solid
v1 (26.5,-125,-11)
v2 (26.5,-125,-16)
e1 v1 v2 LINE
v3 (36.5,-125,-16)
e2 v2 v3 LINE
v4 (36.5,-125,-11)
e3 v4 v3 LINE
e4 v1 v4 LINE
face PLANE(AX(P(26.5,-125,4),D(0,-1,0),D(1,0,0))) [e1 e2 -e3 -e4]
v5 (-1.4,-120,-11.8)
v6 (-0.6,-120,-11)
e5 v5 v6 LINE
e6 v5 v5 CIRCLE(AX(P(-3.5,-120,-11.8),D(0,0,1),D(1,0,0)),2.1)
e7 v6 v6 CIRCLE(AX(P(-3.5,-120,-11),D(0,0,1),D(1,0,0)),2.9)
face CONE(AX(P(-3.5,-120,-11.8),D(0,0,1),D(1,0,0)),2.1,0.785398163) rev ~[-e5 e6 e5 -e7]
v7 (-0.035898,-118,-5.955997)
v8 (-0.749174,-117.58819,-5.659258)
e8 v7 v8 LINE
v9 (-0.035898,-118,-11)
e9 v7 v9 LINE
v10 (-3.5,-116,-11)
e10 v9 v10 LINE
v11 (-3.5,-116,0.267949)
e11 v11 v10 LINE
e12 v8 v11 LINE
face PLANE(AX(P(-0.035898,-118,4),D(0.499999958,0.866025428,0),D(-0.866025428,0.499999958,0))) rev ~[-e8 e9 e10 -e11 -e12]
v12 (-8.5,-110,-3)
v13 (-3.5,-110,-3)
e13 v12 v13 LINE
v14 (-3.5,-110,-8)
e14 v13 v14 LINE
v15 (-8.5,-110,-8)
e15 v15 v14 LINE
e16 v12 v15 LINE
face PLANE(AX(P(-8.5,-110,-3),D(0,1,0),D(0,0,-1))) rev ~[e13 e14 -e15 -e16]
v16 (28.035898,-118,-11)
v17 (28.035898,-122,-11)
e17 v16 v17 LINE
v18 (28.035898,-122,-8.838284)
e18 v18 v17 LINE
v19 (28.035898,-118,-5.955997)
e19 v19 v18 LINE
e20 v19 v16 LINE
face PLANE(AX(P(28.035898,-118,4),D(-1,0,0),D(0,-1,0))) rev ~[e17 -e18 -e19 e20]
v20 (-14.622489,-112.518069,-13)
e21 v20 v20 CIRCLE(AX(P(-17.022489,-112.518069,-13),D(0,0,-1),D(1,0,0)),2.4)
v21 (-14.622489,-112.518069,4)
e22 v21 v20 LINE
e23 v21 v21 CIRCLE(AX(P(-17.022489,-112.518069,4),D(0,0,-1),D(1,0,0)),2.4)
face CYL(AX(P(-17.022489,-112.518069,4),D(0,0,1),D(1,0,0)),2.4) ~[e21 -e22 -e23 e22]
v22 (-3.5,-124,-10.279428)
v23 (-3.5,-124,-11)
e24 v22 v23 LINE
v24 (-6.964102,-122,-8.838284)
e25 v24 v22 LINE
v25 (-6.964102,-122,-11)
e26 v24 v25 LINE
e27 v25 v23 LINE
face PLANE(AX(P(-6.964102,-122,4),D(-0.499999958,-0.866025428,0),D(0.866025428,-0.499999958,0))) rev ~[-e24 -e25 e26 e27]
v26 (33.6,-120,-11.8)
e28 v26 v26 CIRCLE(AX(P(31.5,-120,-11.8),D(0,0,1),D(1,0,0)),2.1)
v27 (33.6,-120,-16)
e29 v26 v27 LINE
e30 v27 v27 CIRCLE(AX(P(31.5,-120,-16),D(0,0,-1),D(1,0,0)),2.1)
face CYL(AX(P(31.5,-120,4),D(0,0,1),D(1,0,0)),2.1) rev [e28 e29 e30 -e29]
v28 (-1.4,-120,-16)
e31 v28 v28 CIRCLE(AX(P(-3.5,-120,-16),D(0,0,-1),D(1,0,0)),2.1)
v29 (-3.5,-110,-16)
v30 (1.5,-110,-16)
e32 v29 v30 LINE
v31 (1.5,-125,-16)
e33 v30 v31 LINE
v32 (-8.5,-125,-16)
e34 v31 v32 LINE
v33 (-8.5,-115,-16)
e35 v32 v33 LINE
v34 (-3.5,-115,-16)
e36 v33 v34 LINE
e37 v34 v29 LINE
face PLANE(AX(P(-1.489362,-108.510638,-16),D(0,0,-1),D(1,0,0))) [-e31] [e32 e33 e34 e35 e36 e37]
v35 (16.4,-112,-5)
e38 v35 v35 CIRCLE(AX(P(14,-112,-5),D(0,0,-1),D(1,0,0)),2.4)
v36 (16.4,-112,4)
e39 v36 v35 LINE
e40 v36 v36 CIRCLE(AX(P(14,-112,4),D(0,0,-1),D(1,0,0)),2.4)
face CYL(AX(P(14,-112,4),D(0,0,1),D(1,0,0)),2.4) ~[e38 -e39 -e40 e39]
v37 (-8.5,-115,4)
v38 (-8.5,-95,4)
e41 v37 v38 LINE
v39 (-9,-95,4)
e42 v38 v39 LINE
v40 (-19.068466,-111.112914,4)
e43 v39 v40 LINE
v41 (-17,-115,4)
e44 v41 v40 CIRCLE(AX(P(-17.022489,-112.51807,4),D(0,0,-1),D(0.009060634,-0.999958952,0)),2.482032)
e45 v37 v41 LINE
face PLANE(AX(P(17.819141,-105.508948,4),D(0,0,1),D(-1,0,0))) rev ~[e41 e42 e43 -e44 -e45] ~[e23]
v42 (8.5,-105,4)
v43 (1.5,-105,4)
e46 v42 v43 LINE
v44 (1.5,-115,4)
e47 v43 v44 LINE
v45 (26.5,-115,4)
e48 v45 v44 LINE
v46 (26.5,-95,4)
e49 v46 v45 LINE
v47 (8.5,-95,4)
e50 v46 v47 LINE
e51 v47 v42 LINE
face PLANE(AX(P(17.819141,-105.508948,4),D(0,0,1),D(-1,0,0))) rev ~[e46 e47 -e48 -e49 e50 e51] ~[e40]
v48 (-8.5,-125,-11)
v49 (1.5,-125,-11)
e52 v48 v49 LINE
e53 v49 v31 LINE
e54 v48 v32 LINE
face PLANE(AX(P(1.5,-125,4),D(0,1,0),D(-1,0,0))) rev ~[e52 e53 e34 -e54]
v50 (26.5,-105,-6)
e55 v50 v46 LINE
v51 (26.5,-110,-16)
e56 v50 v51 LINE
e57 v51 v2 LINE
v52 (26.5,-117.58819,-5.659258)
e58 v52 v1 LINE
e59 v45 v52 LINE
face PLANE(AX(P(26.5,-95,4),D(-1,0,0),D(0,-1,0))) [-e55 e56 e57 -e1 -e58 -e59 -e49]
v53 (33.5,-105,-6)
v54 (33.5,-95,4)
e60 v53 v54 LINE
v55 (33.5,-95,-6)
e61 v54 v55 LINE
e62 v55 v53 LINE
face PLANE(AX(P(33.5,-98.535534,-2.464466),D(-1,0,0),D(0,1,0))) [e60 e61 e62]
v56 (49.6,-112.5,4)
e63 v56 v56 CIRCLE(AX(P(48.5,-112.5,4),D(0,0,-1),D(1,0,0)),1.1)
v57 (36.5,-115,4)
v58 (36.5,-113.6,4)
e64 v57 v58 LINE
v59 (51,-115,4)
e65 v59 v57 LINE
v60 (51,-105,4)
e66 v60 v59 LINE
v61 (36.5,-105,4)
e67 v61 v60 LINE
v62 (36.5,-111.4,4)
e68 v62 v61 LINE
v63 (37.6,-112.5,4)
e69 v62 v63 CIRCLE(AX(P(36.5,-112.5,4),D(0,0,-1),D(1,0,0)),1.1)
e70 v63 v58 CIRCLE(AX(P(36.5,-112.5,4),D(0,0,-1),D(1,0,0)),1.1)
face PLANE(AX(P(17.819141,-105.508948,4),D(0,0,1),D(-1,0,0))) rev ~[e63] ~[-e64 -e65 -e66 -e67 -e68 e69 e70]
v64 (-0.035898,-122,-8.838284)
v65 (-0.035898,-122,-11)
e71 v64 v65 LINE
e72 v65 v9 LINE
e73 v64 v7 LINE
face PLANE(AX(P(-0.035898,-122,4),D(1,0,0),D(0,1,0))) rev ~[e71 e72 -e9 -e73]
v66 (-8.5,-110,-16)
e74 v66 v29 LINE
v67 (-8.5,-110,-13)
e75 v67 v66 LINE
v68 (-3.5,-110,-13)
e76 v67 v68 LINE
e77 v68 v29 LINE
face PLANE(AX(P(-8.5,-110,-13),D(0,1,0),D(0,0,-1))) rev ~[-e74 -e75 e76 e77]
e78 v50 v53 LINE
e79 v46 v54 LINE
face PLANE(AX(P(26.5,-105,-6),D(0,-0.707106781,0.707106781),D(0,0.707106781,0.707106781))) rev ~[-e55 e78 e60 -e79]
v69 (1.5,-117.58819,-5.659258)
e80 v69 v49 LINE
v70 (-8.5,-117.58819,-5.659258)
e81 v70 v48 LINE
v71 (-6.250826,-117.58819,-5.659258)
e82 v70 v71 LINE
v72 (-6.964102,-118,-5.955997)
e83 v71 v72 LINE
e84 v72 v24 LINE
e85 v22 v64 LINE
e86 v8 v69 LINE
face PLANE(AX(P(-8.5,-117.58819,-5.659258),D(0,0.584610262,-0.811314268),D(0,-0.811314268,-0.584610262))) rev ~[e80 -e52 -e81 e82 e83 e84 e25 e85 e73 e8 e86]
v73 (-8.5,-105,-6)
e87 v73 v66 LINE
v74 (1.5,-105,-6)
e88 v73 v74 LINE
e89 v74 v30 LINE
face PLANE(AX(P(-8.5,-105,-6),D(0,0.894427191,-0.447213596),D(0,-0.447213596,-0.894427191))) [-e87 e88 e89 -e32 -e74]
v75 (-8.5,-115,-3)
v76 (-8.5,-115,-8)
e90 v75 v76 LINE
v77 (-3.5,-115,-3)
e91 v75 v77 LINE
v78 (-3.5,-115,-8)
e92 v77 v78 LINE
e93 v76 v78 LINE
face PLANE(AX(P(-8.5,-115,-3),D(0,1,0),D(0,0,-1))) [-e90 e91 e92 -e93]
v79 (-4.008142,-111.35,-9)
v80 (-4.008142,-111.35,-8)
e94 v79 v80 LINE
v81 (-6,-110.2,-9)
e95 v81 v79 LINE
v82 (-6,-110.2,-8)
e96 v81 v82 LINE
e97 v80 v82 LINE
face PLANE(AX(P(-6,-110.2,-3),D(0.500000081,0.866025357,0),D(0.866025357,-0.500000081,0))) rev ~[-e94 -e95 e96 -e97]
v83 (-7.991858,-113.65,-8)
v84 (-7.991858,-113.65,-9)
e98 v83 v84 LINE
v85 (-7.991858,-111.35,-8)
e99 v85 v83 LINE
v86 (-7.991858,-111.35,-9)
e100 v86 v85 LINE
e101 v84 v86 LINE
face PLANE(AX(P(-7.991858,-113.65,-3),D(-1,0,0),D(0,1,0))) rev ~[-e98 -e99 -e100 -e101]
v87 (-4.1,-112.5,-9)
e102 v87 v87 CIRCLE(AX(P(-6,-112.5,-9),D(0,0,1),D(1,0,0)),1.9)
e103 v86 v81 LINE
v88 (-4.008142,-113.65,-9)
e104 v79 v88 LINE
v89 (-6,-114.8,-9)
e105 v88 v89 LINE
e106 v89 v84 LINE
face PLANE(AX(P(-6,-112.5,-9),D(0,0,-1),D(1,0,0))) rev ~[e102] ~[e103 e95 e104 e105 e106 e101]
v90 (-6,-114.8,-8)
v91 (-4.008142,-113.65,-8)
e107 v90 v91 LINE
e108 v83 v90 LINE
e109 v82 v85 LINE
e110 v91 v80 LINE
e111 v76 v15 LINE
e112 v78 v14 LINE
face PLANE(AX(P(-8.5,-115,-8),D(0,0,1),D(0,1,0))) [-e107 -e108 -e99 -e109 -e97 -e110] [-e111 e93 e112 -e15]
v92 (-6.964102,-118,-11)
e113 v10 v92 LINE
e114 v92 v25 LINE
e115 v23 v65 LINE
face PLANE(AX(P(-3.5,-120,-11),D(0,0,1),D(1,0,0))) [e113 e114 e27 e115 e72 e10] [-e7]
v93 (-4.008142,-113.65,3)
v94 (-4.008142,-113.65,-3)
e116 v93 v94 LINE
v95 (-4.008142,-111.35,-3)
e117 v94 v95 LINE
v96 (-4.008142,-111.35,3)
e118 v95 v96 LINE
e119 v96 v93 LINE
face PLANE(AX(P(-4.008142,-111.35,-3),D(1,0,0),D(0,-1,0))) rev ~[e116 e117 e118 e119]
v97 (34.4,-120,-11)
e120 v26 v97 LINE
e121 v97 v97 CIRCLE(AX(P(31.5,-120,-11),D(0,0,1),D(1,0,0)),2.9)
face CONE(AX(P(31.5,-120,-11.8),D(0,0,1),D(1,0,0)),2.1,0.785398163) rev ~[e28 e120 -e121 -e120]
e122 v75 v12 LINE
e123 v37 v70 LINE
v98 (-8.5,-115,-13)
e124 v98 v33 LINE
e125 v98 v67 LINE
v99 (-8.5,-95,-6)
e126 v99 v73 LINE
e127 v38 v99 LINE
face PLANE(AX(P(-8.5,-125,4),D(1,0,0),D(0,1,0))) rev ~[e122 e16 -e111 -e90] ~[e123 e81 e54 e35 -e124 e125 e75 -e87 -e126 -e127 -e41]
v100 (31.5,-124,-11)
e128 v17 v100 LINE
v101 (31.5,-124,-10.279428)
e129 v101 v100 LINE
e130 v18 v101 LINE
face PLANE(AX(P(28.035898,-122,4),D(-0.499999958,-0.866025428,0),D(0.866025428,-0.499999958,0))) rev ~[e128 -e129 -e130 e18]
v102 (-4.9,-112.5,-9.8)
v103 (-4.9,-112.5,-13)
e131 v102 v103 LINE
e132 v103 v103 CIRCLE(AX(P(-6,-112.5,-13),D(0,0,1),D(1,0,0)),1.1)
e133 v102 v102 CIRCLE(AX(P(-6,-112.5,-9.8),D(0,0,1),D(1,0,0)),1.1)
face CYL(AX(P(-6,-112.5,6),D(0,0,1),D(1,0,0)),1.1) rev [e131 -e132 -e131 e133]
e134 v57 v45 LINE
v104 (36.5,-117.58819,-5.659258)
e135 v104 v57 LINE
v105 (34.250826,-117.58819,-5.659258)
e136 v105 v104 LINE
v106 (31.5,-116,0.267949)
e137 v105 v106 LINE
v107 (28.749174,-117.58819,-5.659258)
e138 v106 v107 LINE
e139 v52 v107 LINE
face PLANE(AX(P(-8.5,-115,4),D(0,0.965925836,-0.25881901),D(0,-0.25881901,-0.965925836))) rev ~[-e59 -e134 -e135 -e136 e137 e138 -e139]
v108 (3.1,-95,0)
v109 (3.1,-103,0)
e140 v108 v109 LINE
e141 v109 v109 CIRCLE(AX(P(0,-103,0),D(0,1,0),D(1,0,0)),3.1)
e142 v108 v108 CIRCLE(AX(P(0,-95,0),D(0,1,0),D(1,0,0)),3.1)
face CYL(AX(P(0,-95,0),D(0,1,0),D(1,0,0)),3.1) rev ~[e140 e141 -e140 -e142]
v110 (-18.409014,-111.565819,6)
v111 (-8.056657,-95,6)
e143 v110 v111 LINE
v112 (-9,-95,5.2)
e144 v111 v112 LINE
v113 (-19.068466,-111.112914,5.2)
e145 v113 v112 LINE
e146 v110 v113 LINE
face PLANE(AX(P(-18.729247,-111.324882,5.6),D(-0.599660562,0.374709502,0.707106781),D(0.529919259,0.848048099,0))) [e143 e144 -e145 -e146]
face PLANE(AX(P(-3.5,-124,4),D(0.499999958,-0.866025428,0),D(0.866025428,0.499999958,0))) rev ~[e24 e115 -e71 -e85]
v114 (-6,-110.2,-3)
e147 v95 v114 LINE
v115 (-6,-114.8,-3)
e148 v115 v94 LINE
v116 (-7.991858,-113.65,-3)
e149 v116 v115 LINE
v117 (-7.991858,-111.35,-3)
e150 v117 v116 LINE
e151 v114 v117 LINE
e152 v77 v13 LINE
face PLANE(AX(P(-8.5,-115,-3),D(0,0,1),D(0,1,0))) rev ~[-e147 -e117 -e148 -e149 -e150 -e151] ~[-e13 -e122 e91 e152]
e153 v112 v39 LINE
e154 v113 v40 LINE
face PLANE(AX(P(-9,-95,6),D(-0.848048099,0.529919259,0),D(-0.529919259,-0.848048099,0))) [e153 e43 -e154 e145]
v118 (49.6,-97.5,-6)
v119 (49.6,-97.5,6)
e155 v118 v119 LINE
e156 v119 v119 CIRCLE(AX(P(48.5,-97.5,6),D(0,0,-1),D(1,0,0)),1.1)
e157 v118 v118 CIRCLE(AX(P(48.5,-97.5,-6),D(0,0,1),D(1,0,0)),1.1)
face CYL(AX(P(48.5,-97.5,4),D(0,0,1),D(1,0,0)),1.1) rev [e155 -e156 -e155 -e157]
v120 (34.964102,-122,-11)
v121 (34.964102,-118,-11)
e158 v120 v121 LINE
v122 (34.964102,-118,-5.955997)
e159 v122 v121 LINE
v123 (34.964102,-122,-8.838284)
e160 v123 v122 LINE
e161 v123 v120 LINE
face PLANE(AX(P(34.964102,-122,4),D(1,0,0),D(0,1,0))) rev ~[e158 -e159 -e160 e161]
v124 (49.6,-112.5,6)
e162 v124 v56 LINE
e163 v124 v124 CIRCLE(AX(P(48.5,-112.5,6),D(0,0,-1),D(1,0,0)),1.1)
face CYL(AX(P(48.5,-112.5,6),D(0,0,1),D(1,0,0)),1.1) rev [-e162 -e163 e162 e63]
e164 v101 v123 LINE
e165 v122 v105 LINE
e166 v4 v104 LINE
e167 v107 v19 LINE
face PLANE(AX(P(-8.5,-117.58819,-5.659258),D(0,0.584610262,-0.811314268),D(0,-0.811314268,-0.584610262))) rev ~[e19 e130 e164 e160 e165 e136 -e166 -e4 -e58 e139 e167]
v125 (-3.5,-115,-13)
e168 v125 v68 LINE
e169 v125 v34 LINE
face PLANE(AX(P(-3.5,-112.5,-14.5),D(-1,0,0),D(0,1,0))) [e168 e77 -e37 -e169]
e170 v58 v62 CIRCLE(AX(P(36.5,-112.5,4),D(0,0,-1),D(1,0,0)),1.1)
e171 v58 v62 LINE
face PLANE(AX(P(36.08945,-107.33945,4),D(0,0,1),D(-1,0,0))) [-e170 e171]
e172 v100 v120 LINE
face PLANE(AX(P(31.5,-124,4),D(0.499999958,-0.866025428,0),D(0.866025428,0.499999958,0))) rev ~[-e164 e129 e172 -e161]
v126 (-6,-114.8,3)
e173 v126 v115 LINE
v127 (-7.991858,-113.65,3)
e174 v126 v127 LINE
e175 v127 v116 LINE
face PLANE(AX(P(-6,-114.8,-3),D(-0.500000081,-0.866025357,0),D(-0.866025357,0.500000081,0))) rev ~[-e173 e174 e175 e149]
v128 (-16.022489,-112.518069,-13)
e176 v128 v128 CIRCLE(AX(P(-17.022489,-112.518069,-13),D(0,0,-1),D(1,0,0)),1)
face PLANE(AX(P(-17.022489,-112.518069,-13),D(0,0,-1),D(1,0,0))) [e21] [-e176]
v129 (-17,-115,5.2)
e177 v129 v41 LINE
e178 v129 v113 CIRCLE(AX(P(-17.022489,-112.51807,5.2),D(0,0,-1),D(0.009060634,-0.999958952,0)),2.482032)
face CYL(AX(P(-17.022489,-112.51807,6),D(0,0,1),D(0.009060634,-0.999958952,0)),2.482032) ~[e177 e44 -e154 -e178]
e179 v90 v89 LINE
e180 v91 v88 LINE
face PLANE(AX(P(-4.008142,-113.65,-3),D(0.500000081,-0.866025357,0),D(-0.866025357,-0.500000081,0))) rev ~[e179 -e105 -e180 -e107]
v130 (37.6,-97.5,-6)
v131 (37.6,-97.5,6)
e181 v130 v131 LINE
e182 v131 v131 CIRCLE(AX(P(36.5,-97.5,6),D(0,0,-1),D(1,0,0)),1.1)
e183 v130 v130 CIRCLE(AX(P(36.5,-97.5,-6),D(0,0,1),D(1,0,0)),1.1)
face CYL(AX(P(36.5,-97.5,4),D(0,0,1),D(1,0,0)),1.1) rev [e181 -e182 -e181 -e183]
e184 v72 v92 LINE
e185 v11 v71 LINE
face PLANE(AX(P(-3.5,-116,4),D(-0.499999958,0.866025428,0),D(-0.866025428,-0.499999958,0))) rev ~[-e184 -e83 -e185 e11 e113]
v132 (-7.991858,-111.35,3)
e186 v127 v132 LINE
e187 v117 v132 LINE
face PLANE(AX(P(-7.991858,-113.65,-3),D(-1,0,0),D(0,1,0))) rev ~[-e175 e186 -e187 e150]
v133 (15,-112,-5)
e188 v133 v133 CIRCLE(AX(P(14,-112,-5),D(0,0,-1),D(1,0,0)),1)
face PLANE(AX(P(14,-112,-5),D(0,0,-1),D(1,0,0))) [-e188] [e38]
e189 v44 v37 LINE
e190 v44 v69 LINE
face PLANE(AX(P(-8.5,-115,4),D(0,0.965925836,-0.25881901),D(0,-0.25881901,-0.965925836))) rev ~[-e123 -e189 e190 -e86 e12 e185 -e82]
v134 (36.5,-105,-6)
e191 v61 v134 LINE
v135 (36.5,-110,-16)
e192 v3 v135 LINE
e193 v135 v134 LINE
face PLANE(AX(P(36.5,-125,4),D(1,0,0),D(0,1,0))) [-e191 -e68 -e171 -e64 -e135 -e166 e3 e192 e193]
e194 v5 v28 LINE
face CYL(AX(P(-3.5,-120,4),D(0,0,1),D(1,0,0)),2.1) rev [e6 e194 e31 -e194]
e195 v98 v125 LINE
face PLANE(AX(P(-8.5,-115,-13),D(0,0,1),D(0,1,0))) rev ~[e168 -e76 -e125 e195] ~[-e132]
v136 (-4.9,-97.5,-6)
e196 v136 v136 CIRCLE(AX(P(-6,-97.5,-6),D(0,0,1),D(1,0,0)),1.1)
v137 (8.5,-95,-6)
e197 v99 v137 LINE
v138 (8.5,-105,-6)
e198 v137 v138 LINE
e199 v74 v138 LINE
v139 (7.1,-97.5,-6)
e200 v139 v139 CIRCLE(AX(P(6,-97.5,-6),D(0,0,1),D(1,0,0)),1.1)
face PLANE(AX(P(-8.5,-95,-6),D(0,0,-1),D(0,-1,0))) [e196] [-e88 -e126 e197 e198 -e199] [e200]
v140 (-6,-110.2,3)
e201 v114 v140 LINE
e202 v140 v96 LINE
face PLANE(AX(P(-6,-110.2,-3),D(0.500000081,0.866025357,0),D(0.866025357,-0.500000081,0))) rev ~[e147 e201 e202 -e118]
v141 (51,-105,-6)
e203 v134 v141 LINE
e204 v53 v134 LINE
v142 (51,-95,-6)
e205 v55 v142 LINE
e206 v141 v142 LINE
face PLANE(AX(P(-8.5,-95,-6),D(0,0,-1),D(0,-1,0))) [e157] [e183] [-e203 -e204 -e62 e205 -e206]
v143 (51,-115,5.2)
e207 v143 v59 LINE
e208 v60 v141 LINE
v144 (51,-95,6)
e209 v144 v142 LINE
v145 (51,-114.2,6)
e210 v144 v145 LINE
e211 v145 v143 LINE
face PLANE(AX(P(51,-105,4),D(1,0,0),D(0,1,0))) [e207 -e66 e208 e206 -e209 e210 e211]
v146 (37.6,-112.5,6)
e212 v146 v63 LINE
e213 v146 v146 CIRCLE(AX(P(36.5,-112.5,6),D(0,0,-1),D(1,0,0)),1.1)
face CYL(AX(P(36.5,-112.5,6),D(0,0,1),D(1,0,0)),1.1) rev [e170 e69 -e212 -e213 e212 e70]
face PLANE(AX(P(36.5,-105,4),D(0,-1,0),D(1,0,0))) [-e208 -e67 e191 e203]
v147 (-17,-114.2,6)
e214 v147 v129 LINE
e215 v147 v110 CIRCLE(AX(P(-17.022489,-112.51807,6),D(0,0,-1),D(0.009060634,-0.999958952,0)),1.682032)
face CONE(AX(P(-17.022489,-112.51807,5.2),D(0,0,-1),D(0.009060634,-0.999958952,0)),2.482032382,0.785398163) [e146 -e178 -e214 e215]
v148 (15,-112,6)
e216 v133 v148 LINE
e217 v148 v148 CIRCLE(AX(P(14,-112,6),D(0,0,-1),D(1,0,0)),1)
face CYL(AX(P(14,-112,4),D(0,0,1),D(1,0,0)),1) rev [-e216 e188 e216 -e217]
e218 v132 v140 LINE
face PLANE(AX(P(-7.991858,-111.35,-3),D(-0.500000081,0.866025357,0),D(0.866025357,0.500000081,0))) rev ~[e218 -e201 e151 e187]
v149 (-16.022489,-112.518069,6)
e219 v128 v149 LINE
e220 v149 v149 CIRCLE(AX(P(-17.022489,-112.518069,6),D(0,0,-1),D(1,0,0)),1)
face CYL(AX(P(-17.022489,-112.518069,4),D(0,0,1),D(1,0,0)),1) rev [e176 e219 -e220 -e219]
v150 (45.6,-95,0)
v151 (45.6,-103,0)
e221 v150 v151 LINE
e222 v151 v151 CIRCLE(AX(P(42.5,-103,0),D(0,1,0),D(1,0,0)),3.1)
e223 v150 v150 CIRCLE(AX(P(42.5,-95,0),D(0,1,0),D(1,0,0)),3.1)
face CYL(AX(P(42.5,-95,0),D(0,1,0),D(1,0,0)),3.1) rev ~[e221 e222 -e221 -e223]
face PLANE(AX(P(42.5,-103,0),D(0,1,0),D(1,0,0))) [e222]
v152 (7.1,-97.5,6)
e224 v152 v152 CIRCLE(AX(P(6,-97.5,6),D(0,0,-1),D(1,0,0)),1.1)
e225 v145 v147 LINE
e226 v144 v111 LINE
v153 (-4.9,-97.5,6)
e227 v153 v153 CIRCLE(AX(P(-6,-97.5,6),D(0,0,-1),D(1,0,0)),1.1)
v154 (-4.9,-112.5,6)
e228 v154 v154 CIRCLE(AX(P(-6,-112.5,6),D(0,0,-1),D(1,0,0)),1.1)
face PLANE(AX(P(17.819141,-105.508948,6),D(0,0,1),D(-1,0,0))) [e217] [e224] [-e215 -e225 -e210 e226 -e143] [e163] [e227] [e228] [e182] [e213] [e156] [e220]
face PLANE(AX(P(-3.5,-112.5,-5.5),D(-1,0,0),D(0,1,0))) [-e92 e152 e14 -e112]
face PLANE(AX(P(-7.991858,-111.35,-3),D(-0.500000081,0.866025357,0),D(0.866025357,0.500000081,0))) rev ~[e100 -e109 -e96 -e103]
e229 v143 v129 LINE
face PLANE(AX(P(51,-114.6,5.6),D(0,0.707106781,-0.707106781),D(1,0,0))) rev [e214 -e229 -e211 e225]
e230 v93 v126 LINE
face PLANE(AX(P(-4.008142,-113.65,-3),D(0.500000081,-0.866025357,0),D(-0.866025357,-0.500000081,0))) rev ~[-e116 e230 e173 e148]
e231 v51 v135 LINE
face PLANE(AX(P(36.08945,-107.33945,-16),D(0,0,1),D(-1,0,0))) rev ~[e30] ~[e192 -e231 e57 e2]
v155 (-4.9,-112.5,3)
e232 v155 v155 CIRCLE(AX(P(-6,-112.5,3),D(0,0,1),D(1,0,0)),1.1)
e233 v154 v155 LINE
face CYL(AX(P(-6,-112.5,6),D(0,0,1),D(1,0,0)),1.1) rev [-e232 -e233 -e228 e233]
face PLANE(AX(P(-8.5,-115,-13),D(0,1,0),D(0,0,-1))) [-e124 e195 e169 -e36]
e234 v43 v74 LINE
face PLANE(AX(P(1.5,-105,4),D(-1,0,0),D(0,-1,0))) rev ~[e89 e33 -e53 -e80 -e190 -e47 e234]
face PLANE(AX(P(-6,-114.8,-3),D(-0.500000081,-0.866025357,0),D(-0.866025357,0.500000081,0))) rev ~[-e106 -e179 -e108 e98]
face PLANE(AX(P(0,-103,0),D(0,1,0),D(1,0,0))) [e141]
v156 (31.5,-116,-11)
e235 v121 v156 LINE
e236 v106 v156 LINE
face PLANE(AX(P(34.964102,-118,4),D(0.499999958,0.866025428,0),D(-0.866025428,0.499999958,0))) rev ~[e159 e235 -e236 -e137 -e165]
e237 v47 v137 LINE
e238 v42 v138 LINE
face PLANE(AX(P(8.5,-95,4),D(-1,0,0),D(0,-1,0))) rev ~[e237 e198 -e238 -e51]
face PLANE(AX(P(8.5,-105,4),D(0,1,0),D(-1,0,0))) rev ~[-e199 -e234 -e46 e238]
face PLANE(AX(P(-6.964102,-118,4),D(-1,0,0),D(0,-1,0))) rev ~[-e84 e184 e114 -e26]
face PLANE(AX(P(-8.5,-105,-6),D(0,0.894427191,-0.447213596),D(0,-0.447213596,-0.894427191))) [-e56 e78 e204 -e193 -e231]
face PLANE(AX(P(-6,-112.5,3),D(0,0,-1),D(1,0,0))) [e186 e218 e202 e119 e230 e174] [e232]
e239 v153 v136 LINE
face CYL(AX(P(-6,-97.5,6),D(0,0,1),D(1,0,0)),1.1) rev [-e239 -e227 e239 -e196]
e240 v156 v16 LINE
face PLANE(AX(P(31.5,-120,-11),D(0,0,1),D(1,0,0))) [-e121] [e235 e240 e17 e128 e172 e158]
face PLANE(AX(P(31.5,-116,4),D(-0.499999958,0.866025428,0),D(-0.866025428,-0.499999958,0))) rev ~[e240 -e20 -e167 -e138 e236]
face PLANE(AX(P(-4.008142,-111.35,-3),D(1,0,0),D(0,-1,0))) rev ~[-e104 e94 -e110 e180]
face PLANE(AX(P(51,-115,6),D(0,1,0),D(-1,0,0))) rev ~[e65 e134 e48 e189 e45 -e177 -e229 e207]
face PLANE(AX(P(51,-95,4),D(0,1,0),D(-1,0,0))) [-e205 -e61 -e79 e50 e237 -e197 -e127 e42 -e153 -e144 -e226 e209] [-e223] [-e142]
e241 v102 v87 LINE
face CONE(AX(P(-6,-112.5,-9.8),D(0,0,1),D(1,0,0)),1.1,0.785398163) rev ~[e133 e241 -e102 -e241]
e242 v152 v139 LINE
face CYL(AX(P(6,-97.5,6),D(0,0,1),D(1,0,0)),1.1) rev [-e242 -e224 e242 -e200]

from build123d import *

# Parameters (mm, degrees)
SKETCH062_R     = 1.1
SKETCH062_R_2   = 1
PAD027_DEPTH    = 2
SKETCH063_R     = 2.4
SKETCH063_R_2   = 1
PAD028_DEPTH    = 17
SKETCH064_R     = 2.4
SKETCH064_R_2   = 1
PAD029_DEPTH    = 9
SKETCH065_R     = 2.1
SKETCH065_R_2   = 1.1
PAD030_DEPTH    = 20
POCKET029_DEPTH = 15
POCKET030_DEPTH = 59.501
SKETCH068_W     = 5
SKETCH068_H     = 3
SKETCH068_H_2   = 5
POCKET031_DEPTH = 5
SKETCH069_R     = 3.1
POCKET032_DEPTH = 8
POCKET033_DEPTH = 6
POCKET034_DEPTH = 7
CHAMFER004_SIZE = 0.8


with BuildPart() as part:
    # Sketch062 → Pad027 (new body)
    with BuildSketch(Plane(origin=(51, -95, 6), x_dir=(1, 0, 0), z_dir=(0, 0, -1))):
        with BuildLine():
            Line((0, 0), (-60, 0))
            Line((-60, 0), (-70.068466, 16.112914))
            ThreePointArc((-68, 20), (-70.213604, 18.684045), (-70.068466, 16.112914))
            Line((0, 20), (-68, 20))
            Line((0, 0), (0, 20))
        make_face()
        with Locations((-2.5, 2.5)):
            Circle(SKETCH062_R, mode=Mode.SUBTRACT)
        with Locations((-2.5, 17.5)):
            Circle(SKETCH062_R, mode=Mode.SUBTRACT)
        with Locations((-14.5, 17.5)):
            Circle(SKETCH062_R, mode=Mode.SUBTRACT)
        with Locations((-14.5, 2.5)):
            Circle(SKETCH062_R, mode=Mode.SUBTRACT)
        with Locations((-45, 2.5)):
            Circle(SKETCH062_R, mode=Mode.SUBTRACT)
        with Locations((-57, 2.5)):
            Circle(SKETCH062_R, mode=Mode.SUBTRACT)
        with Locations((-57, 17.5)):
            Circle(SKETCH062_R, mode=Mode.SUBTRACT)
        with Locations((-68.022489, 17.518069)):
            Circle(SKETCH062_R_2, mode=Mode.SUBTRACT)
        with Locations((-37, 17)):
            Circle(SKETCH062_R_2, mode=Mode.SUBTRACT)
    extrude(amount=PAD027_DEPTH)

    # Sketch063 → Pad028 (new body)
    with BuildSketch(Plane(origin=(51, -95, 4), x_dir=(1, 0, 0), z_dir=(0, 0, -1))):
        with Locations((-68.022489, 17.518069)):
            Circle(SKETCH063_R)
        with Locations((-68.022489, 17.518069)):
            Circle(SKETCH063_R_2, mode=Mode.SUBTRACT)
    extrude(amount=PAD028_DEPTH)

    # Sketch064 → Pad029 (new body)
    with BuildSketch(Plane(origin=(51, -95, 4), x_dir=(1, 0, 0), z_dir=(0, 0, -1))):
        with Locations((-37, 17)):
            Circle(SKETCH064_R)
        with Locations((-37, 17)):
            Circle(SKETCH064_R_2, mode=Mode.SUBTRACT)
    extrude(amount=PAD029_DEPTH)

    # Sketch065 → Pad030 (new body)
    with BuildSketch(Plane(origin=(51, -95, 4), x_dir=(1, 0, 0), z_dir=(0, 0, -1))):
        Polygon((0, 0), (-24.5, 0), (-24.5, 30), (-14.5, 30), (-14.5, 10), (0, 10), align=None)
        with Locations((-19.5, 25)):
            Circle(SKETCH065_R, mode=Mode.SUBTRACT)
        with Locations((-14.5, 2.5)):
            Circle(SKETCH065_R_2, mode=Mode.SUBTRACT)
        with Locations((-2.5, 2.5)):
            Circle(SKETCH065_R_2, mode=Mode.SUBTRACT)
        Polygon((-59.5, 0), (-42.5, 0), (-42.5, 10), (-49.5, 10), (-49.5, 30), (-59.5, 30), align=None)
        with Locations((-54.5, 25)):
            Circle(SKETCH065_R, mode=Mode.SUBTRACT)
        with Locations((-57, 2.5)):
            Circle(SKETCH065_R_2, mode=Mode.SUBTRACT)
        with Locations((-45, 2.5)):
            Circle(SKETCH065_R_2, mode=Mode.SUBTRACT)
        with Locations((-57, 17.5)):
            Circle(SKETCH065_R_2, mode=Mode.SUBTRACT)
    extrude(amount=PAD030_DEPTH)

    # Sketch066 → Pocket029 (cut)
    with BuildSketch(Plane(origin=(51, -95, 4), x_dir=(1, 0, 0), z_dir=(0, 0, 1))):
        Polygon((-51.035898, -27), (-51.035898, -23), (-54.5, -21), (-57.964102, -23), (-57.964102, -27), (-54.5, -29), align=None)
        Polygon((-16.035898, -27), (-16.035898, -23), (-19.5, -21), (-22.964102, -23), (-22.964102, -27), (-19.5, -29), align=None)
    extrude(amount=-POCKET029_DEPTH, mode=Mode.SUBTRACT)

    # Sketch067 → Pocket030 (cut, through all)
    with BuildSketch(Plane(origin=(-8.5, -95, 6), x_dir=(0, 1, 0), z_dir=(-1, 0, 0))):
        Polygon((-22.58819, 11.659258), (-30, 17), (-30, 2), (-20, 2), align=None)
        Polygon((0, 22), (0, 12), (-10, 12), (-15, 22), align=None)
    extrude(amount=-POCKET030_DEPTH, mode=Mode.SUBTRACT)

    # Sketch068 → Pocket031 (cut)
    with BuildSketch(Plane(origin=(-8.5, -95, 6), x_dir=(0, 1, 0), z_dir=(-1, 0, 0))):
        with Locations((-17.5, 20.5)):
            Rectangle(SKETCH068_W, SKETCH068_H)
        with Locations((-17.5, 11.5)):
            Rectangle(SKETCH068_W, SKETCH068_H_2)
    extrude(amount=-POCKET031_DEPTH, mode=Mode.SUBTRACT)

    # Sketch069 → Pocket032 (cut)
    with BuildSketch(Plane(origin=(51, -95, 6), x_dir=(1, 0, 0), z_dir=(0, 1, 0))):
        with Locations((-8.5, 6)):
            Circle(SKETCH069_R)
        with Locations((-51, 6)):
            Circle(SKETCH069_R)
    extrude(amount=-POCKET032_DEPTH, mode=Mode.SUBTRACT)

    # Sketch070 → Pocket033 (cut, symmetric)
    with BuildSketch(Plane(origin=(51, -95, -3), x_dir=(1, 0, 0), z_dir=(0, 0, -1))):
        Polygon((-55.008142, 16.35), (-55.008142, 18.65), (-57, 19.8), (-58.991858, 18.65), (-58.991858, 16.35), (-57, 15.2), align=None)
    extrude(amount=POCKET033_DEPTH, both=True, mode=Mode.SUBTRACT)

    # Sketch071 → Pocket034 (cut)
    with BuildSketch(Plane(origin=(26.5, -95, 6), x_dir=(0, 1, 0), z_dir=(-1, 0, 0))):
        Polygon((-10, 12), (0, 2), (0, 12), align=None)
    extrude(amount=-POCKET034_DEPTH, mode=Mode.SUBTRACT)

    # Chamfer004
    chamfer004_edges = [part.edges().sort_by_distance(p)[0] for p in [
        (17, -115, 6),
        (29.4, -120, -11),
        (-5.6, -120, -11),
        (-7.1, -112.5, -9),
    ]]
    chamfer(chamfer004_edges, length=CHAMFER004_SIZE)


solid = part.part
